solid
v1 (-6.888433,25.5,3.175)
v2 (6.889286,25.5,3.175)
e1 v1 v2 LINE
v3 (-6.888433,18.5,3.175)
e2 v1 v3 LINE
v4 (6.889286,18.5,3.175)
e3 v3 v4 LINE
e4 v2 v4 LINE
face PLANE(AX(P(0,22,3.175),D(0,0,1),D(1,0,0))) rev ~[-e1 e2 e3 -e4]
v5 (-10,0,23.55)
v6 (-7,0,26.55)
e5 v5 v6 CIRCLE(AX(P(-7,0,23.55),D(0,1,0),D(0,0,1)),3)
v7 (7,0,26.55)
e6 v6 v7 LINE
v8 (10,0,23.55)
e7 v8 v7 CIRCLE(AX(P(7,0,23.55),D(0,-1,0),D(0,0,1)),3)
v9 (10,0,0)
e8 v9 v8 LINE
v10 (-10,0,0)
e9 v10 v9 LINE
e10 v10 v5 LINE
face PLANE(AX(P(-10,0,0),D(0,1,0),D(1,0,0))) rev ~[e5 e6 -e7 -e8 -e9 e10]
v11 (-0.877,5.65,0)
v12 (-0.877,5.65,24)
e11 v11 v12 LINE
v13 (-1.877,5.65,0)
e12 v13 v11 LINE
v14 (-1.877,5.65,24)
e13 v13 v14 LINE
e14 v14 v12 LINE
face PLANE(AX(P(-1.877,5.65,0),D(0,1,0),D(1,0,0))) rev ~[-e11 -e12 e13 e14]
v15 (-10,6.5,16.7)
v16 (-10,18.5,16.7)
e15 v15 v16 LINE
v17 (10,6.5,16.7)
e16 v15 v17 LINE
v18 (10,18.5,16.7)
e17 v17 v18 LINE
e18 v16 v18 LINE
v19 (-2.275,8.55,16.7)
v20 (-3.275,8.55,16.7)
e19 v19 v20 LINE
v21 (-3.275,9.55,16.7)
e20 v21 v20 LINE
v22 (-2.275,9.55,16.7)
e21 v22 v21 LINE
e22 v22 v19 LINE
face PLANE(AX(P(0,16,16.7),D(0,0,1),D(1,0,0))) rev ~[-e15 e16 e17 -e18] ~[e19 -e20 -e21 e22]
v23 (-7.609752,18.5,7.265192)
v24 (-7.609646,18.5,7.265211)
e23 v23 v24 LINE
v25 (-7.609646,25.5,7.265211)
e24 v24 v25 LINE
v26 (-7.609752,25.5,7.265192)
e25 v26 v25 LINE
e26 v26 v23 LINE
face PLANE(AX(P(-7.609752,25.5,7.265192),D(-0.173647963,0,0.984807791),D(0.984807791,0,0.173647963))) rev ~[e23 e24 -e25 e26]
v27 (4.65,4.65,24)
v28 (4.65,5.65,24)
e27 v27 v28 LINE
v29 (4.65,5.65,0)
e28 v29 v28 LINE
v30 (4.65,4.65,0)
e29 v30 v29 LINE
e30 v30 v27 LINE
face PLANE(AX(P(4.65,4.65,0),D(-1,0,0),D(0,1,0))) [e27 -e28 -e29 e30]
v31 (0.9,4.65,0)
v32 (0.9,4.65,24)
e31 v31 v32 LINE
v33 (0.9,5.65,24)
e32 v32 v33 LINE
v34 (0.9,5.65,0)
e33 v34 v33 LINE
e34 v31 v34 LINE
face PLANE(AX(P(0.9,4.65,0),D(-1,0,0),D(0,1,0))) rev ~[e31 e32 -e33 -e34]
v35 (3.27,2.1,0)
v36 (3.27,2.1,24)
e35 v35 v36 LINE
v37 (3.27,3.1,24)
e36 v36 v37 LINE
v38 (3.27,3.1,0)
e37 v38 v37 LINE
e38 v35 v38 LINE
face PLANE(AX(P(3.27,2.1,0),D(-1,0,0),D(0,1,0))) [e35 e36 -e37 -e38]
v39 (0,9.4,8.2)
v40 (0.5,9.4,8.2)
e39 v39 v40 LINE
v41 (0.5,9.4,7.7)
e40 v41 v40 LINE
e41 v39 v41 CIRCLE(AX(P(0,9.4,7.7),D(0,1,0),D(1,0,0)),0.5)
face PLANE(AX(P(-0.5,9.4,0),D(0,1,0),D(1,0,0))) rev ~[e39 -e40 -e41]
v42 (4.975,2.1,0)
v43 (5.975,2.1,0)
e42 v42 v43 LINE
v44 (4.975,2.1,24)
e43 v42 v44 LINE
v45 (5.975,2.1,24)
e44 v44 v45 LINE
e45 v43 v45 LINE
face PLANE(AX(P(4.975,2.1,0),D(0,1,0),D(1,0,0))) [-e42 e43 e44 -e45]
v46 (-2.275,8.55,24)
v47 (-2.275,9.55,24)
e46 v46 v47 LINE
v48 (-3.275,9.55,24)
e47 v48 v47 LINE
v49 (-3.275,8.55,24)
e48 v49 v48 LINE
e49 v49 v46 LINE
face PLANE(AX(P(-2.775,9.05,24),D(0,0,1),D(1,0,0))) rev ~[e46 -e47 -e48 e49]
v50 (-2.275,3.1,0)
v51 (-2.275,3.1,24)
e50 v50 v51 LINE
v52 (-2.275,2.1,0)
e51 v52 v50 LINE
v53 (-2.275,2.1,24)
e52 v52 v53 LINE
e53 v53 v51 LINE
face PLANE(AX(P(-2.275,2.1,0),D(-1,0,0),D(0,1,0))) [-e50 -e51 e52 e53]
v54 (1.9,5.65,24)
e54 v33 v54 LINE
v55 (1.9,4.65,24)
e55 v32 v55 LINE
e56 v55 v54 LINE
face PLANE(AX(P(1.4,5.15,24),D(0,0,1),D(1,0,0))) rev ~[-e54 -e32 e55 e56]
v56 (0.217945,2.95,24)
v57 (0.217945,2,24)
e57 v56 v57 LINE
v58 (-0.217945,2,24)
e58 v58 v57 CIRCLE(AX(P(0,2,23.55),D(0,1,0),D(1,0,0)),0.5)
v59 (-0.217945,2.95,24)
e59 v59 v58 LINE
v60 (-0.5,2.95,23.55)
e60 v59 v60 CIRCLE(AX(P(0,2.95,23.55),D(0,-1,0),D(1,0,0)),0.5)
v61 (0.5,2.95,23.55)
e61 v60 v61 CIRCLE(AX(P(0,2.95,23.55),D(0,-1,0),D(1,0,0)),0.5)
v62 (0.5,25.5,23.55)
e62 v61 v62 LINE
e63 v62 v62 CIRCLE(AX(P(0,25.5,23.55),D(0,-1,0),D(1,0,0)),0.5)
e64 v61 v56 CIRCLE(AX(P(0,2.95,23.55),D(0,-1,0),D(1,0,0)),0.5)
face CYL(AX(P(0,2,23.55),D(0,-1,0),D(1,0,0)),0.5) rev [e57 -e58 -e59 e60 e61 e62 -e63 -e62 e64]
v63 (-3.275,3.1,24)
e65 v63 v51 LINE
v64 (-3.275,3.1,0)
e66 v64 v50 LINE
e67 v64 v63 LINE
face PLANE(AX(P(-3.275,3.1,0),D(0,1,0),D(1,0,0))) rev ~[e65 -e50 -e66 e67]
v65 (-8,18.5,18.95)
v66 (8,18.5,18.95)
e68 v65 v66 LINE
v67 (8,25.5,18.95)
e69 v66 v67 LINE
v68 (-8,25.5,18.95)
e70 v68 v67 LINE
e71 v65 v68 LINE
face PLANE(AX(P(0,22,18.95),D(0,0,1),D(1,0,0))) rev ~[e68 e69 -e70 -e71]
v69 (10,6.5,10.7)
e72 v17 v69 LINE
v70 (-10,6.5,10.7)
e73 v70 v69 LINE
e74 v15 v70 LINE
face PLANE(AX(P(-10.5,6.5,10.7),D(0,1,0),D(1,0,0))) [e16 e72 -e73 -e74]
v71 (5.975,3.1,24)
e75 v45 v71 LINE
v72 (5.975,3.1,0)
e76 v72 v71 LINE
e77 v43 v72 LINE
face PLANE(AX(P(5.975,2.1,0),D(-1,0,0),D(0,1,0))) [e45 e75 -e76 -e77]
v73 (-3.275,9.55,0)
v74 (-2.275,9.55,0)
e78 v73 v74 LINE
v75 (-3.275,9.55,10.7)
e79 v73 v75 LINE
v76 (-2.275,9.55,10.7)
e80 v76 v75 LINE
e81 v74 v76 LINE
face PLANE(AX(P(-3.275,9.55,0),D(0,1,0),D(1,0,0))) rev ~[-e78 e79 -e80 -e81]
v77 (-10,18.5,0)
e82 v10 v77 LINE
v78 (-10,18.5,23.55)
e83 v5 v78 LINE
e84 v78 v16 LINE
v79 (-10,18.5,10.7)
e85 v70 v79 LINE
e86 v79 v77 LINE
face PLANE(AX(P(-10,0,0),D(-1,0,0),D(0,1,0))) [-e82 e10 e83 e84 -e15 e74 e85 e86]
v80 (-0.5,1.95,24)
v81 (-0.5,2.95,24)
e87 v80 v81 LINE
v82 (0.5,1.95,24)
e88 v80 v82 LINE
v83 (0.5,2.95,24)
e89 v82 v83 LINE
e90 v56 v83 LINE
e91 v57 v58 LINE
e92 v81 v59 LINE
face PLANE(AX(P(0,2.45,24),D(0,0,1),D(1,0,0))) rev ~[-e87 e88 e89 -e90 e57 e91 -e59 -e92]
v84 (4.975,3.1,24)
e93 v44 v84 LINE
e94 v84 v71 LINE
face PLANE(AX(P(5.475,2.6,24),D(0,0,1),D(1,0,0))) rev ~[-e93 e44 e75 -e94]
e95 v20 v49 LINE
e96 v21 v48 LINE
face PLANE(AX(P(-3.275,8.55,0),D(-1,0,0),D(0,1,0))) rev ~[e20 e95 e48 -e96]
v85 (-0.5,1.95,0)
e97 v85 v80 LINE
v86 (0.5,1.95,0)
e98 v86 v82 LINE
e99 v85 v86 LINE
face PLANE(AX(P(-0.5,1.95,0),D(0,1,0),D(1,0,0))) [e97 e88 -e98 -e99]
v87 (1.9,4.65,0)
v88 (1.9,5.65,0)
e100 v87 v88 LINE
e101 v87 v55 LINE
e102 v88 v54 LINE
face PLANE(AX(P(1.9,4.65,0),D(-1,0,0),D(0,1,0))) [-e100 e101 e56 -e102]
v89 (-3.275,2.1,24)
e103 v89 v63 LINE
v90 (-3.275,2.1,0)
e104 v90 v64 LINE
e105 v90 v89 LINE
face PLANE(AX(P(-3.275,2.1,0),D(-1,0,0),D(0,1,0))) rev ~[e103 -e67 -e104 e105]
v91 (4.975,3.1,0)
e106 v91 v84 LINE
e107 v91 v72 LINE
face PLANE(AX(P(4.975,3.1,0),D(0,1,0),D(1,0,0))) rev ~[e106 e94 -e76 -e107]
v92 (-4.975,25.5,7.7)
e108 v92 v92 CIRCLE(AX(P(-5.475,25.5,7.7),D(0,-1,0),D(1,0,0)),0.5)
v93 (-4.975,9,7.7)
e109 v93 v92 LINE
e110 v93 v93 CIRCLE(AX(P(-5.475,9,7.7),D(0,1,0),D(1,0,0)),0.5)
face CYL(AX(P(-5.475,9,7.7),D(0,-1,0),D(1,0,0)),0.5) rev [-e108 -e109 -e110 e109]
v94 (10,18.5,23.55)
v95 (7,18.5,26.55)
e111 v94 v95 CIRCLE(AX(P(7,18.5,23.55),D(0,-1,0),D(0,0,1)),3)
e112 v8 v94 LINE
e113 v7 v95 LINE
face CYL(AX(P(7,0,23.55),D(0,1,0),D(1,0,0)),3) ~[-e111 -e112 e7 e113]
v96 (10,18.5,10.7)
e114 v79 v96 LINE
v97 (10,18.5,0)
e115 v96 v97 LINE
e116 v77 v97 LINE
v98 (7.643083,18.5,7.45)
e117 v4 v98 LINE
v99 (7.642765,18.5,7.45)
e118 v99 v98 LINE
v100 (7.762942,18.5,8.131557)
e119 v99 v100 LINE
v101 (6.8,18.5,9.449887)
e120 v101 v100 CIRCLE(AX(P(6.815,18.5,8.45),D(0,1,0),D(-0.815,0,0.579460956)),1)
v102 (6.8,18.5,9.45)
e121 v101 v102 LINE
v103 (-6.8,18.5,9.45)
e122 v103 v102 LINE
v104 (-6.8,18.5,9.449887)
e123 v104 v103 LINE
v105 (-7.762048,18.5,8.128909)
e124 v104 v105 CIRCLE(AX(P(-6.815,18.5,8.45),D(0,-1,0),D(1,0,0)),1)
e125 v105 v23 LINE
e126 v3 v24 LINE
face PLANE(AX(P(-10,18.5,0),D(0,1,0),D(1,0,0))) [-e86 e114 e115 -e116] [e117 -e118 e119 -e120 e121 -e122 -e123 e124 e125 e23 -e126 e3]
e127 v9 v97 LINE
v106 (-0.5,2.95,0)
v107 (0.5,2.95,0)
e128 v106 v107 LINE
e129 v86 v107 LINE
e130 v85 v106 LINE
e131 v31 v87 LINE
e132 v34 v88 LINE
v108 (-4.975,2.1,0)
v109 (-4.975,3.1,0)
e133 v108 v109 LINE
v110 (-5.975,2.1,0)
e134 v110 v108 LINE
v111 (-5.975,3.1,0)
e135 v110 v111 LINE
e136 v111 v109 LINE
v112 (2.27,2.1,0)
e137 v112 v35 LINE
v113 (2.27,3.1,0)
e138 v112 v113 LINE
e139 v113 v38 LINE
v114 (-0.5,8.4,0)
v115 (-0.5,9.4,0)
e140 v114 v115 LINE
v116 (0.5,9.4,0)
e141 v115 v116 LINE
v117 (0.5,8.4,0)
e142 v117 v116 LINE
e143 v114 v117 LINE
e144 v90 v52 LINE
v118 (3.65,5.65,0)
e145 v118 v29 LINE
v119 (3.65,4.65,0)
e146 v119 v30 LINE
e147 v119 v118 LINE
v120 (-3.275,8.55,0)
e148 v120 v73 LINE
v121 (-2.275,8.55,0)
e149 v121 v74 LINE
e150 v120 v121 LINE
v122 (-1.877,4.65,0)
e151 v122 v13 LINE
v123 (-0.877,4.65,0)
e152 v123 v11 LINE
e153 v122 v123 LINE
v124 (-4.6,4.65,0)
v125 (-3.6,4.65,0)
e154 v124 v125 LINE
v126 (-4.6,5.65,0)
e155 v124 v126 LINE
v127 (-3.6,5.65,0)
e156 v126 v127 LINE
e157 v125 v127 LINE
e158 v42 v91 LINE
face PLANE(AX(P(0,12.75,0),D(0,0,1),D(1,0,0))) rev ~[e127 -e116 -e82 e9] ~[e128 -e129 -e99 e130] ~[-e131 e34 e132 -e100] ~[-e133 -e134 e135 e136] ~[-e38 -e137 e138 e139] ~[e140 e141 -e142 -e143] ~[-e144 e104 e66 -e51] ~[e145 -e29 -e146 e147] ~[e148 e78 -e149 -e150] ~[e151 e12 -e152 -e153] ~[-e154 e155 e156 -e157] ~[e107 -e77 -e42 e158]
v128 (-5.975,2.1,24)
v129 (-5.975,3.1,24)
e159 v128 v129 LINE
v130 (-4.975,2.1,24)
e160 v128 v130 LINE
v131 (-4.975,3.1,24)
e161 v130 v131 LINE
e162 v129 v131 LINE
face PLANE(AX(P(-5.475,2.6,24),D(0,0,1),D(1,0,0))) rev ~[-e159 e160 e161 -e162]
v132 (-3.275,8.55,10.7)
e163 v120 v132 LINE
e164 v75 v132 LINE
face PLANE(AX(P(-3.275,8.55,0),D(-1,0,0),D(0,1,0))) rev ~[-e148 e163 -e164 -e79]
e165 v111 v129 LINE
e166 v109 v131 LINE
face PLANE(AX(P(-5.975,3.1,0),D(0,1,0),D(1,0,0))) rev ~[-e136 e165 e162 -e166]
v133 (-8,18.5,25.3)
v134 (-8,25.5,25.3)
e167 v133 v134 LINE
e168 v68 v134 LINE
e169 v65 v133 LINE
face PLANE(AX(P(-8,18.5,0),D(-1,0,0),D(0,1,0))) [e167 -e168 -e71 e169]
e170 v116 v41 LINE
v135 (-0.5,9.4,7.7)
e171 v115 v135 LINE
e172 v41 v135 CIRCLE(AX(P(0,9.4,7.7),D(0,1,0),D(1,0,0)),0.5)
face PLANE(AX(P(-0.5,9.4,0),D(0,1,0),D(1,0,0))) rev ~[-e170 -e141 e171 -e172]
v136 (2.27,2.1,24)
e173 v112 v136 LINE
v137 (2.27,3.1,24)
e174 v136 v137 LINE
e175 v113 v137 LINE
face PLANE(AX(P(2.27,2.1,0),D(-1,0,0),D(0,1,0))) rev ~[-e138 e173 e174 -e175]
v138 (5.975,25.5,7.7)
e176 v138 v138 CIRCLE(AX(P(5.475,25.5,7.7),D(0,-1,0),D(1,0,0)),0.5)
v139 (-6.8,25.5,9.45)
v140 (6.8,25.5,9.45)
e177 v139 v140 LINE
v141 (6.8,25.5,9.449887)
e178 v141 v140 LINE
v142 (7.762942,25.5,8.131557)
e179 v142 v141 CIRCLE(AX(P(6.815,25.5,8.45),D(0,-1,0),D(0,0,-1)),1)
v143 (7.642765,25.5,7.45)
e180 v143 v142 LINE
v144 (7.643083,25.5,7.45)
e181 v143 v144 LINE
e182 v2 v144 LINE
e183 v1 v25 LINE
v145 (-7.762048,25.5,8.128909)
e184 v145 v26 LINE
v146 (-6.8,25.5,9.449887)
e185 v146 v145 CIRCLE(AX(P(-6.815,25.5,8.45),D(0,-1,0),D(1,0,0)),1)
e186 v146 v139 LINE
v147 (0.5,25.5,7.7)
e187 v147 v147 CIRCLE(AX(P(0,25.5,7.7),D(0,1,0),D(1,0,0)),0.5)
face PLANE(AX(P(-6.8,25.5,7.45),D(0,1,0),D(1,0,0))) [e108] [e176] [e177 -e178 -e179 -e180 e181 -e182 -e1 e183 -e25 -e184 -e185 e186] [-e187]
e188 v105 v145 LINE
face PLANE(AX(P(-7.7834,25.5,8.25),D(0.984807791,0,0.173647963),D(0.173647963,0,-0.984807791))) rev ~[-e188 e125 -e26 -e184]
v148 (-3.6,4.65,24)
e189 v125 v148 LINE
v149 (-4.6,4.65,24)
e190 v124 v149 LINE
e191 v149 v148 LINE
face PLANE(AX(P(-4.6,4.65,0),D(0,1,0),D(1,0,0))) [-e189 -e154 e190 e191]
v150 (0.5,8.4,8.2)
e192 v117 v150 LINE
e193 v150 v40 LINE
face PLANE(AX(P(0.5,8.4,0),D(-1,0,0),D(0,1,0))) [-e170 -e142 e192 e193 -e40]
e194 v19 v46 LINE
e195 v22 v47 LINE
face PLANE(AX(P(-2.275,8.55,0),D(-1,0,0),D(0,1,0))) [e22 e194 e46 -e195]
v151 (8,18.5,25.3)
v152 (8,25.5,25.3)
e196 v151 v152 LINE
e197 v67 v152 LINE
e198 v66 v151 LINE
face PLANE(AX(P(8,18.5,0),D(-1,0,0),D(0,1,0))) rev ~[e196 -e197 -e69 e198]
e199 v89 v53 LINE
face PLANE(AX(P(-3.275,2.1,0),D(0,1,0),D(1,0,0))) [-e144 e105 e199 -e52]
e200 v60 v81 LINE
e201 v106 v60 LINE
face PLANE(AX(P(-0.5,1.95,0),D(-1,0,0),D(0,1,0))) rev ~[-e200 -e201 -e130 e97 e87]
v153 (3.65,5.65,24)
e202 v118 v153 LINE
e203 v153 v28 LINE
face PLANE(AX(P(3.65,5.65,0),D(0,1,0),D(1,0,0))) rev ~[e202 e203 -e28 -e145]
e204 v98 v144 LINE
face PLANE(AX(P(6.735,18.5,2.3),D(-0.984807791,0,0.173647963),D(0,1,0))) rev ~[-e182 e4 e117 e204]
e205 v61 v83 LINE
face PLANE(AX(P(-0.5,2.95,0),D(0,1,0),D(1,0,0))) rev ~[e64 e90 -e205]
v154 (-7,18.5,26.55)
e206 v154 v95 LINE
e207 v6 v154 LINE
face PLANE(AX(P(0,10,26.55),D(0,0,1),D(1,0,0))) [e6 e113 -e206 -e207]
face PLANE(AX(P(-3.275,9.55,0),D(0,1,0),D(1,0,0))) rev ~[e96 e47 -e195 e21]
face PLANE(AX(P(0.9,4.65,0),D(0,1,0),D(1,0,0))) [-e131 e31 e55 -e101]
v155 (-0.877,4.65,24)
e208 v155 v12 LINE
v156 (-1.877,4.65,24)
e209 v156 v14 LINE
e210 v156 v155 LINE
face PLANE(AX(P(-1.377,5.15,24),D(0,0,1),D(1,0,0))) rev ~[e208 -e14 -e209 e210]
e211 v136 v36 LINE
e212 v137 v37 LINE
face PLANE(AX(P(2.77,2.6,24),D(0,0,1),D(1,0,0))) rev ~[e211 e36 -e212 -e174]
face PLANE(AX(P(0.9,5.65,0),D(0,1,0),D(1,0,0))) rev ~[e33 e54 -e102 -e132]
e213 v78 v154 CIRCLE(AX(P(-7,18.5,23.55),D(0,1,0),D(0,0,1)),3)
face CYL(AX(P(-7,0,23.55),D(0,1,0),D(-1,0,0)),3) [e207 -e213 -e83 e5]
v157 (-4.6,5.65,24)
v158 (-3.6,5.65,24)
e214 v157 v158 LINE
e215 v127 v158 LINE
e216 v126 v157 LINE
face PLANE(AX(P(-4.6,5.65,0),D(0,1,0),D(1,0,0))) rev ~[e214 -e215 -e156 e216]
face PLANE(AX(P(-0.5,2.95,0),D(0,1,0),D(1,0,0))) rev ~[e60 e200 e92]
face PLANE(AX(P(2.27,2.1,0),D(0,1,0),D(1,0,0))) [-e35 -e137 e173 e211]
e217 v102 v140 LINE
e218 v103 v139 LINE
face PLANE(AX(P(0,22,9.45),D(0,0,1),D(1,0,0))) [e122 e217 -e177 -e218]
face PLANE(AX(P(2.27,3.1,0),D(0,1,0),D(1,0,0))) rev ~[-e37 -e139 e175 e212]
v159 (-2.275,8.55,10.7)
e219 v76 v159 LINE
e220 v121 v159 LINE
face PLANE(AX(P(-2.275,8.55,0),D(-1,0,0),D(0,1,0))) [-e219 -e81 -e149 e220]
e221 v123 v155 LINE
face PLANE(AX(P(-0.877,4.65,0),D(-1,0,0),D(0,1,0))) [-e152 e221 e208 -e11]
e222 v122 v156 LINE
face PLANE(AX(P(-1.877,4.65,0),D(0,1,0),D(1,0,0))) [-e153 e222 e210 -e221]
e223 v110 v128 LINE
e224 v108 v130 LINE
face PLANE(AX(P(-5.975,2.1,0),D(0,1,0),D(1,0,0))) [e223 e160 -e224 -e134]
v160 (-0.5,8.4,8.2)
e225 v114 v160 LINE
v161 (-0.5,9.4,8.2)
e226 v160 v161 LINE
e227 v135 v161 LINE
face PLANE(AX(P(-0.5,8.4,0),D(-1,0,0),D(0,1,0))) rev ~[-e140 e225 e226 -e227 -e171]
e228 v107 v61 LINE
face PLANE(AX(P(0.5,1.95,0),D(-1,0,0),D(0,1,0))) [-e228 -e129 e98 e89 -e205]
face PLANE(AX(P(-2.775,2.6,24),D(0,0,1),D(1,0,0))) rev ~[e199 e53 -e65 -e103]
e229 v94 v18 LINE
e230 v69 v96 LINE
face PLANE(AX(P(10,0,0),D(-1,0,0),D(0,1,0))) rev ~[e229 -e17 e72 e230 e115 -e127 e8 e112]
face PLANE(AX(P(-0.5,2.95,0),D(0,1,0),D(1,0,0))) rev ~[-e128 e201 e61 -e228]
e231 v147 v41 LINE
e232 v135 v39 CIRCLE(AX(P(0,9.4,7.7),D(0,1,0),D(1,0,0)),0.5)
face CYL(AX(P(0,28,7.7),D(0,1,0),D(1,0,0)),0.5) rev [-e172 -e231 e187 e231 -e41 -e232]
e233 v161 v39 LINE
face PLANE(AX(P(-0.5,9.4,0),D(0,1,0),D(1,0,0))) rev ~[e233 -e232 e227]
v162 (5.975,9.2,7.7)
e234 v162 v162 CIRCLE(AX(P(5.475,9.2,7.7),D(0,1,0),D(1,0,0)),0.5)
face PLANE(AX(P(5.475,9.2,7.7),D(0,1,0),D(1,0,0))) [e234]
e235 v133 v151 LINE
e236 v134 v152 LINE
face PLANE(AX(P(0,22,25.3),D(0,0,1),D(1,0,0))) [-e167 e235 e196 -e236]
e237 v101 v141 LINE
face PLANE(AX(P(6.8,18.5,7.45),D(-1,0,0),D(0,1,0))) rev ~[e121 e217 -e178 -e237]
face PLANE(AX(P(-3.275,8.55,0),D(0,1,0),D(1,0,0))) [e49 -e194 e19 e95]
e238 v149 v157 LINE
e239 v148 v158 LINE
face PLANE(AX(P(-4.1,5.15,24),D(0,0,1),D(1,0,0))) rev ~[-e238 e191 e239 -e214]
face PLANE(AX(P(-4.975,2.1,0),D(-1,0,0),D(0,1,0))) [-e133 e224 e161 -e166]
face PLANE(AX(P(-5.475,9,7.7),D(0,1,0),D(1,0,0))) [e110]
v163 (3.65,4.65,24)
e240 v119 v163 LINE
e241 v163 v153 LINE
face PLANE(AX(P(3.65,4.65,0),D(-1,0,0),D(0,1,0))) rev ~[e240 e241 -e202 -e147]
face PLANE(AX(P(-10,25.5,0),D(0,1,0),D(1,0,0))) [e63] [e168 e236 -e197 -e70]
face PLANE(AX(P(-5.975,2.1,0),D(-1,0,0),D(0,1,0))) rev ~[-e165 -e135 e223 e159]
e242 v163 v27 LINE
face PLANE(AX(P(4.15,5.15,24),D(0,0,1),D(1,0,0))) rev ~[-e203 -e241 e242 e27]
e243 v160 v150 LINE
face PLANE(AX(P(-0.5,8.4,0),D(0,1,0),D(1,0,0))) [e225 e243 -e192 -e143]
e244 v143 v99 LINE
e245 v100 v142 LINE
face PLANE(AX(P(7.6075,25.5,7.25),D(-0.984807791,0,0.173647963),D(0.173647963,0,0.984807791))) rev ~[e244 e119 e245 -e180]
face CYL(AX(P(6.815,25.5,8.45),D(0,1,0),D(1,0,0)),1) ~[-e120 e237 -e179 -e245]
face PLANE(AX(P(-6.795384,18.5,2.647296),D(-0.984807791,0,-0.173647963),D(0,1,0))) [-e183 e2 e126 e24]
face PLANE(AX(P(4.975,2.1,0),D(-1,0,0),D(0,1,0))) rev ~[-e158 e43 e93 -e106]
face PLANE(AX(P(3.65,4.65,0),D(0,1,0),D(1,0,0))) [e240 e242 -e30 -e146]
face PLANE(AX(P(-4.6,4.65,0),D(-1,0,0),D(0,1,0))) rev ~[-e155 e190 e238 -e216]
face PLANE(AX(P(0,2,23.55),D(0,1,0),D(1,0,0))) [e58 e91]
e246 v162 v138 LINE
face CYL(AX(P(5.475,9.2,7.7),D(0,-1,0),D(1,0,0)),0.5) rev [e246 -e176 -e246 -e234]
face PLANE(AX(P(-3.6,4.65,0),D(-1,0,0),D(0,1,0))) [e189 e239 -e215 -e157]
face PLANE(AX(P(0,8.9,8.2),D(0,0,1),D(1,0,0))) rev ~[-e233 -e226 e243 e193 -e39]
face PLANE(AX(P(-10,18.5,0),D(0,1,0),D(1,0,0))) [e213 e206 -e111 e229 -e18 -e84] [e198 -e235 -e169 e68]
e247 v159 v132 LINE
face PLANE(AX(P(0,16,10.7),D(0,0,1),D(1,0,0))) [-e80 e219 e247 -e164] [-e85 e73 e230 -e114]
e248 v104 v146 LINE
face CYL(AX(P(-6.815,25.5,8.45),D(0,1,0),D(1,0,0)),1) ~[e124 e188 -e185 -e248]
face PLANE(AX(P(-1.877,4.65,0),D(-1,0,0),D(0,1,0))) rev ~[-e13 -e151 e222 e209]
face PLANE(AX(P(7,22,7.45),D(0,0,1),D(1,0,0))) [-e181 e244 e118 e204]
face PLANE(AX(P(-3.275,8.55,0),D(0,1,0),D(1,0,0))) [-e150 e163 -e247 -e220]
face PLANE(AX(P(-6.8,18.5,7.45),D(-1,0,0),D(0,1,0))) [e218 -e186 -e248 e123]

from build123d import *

# Parameters (mm, degrees)
BOX_W             = 20
BOX_H             = 25.5
BOX_DEPTH         = 28.42
BOX001_W          = 2
BOX001_H          = 7
BOX001_DEPTH      = 31.5
BOX002_W          = 2
BOX002_H          = 7.5
BOX002_DEPTH      = 31
BOX003_W          = 21
BOX003_H          = 19
BOX003_DEPTH      = 6
BOX008_W          = 18
BOX008_H          = 7
BOX008_DEPTH      = 9.5
BOX009_W          = 22
BOX009_H          = 7
BOX009_DEPTH      = 3.175
BOX010_W          = 23
BOX010_H          = 7
BOX010_DEPTH      = 3.2
BOX011_W          = 1
BOX011_H          = 1
BOX011_DEPTH      = 24
BOX012_W          = 1
BOX012_H          = 1
BOX012_DEPTH      = 24
BOX019_W          = 21
BOX019_H          = 20
BOX019_DEPTH      = 3
BOX020_W          = 1
BOX020_H          = 1
BOX020_DEPTH      = 8.2
BOX021_W          = 1
BOX021_H          = 1
BOX021_DEPTH      = 24
BOX022_W          = 1
BOX022_H          = 1
BOX022_DEPTH      = 24
CYLINDER_R        = 0.5
CYLINDER_DEPTH    = 19
CYLINDER001_R     = 0.5
CYLINDER001_DEPTH = 24
CYLINDER002_R     = 0.5
CYLINDER002_DEPTH = 17
CYLINDER003_R     = 0.5
CYLINDER003_DEPTH = 17
BOX023_W          = 1
BOX023_H          = 1
BOX023_DEPTH      = 24
BOX024_W          = 1
BOX024_H          = 1
BOX024_DEPTH      = 24
BOX025_W          = 1
BOX025_H          = 1
BOX025_DEPTH      = 24
BOX026_W          = 1
BOX026_H          = 1
BOX026_DEPTH      = 24
BOX027_W          = 1
BOX027_H          = 1
BOX027_DEPTH      = 24
BOX028_W          = 1
BOX028_H          = 1
BOX028_DEPTH      = 24
BOX029_W          = 2
BOX029_H          = 8
BOX029_DEPTH      = 8
BOX030_W          = 2
BOX030_H          = 8
BOX030_DEPTH      = 8
BOX033_W          = 2
BOX033_H          = 7
BOX033_DEPTH      = 2
BOX034_W          = 2
BOX034_H          = 7
BOX034_DEPTH      = 2
CYLINDER006_R     = 1
CYLINDER006_DEPTH = 7
BOX035_W          = 0.8
BOX035_H          = 7
BOX035_DEPTH      = 2
BOX036_W          = 1
BOX036_H          = 1
BOX036_DEPTH      = 7
CYLINDER007_R     = 1
CYLINDER007_DEPTH = 7
BOX037_W          = 0.8
BOX037_H          = 7
BOX037_DEPTH      = 2
BOX038_W          = 1
BOX038_H          = 1
BOX038_DEPTH      = 7
FILLET008_R       = 3


with BuildPart() as part:
    # Box → Box (join)
    with BuildSketch(Plane(origin=(-10, 0, 0), x_dir=(1, 0, 0), z_dir=(0, 0, 1))):
        with Locations((10, 12.75)):
            Rectangle(BOX_W, BOX_H)
    extrude(amount=BOX_DEPTH)

    # Box001 → Box001 (cut)
    with BuildSketch(Plane(origin=(-10, 18.5, 0), x_dir=(1, 0, 0), z_dir=(0, 0, 1))):
        with Locations((1, 3.5)):
            Rectangle(BOX001_W, BOX001_H)
    extrude(amount=BOX001_DEPTH, mode=Mode.SUBTRACT)

    # Box002 → Box002 (cut)
    with BuildSketch(Plane(origin=(8, 18.5, 0), x_dir=(1, 0, 0), z_dir=(0, 0, 1))):
        with Locations((1, 3.75)):
            Rectangle(BOX002_W, BOX002_H)
    extrude(amount=BOX002_DEPTH, mode=Mode.SUBTRACT)

    # Box003 → Box003 (cut)
    with BuildSketch(Plane(origin=(-10.5, 6.5, 10.7), x_dir=(1, 0, 0), z_dir=(0, 0, 1))):
        with Locations((10.5, 9.5)):
            Rectangle(BOX003_W, BOX003_H)
    extrude(amount=BOX003_DEPTH, mode=Mode.SUBTRACT)

    # Box008 → Box008 (cut)
    with BuildSketch(Plane(origin=(-9, 18.5, 9.45), x_dir=(1, 0, 0), z_dir=(0, 0, 1))):
        with Locations((9, 3.5)):
            Rectangle(BOX008_W, BOX008_H)
    extrude(amount=BOX008_DEPTH, mode=Mode.SUBTRACT)

    # Box009 → Box009 (cut)
    with BuildSketch(Plane(origin=(-11, 18.5, 0), x_dir=(1, 0, 0), z_dir=(0, 0, 1))):
        with Locations((11, 3.5)):
            Rectangle(BOX009_W, BOX009_H)
    extrude(amount=BOX009_DEPTH, mode=Mode.SUBTRACT)

    # Box010 → Box010 (cut)
    with BuildSketch(Plane(origin=(-11.5, 18.5, 25.3), x_dir=(1, 0, 0), z_dir=(0, 0, 1))):
        with Locations((11.5, 3.5)):
            Rectangle(BOX010_W, BOX010_H)
    extrude(amount=BOX010_DEPTH, mode=Mode.SUBTRACT)

    # Box011 → Box011 (cut)
    with BuildSketch(Plane(origin=(-0.5, 1.95, 0), x_dir=(1, 0, 0), z_dir=(0, 0, 1))):
        with Locations((0.5, 0.5)):
            Rectangle(BOX011_W, BOX011_H)
    extrude(amount=BOX011_DEPTH, mode=Mode.SUBTRACT)

    # Box012 → Box012 (cut)
    with BuildSketch(Plane(origin=(2.27, 2.1, 0), x_dir=(1, 0, 0), z_dir=(0, 0, 1))):
        with Locations((0.5, 0.5)):
            Rectangle(BOX012_W, BOX012_H)
    extrude(amount=BOX012_DEPTH, mode=Mode.SUBTRACT)

    # Box019 → Box019 (cut)
    with BuildSketch(Plane(origin=(-10.5, 0, 26.55), x_dir=(1, 0, 0), z_dir=(0, 0, 1))):
        with Locations((10.5, 10)):
            Rectangle(BOX019_W, BOX019_H)
    extrude(amount=BOX019_DEPTH, mode=Mode.SUBTRACT)

    # Box020 → Box020 (cut)
    with BuildSketch(Plane(origin=(-0.5, 8.4, 0), x_dir=(1, 0, 0), z_dir=(0, 0, 1))):
        with Locations((0.5, 0.5)):
            Rectangle(BOX020_W, BOX020_H)
    extrude(amount=BOX020_DEPTH, mode=Mode.SUBTRACT)

    # Box021 → Box021 (cut)
    with BuildSketch(Plane(origin=(4.975, 2.1, 0), x_dir=(1, 0, 0), z_dir=(0, 0, 1))):
        with Locations((0.5, 0.5)):
            Rectangle(BOX021_W, BOX021_H)
    extrude(amount=BOX021_DEPTH, mode=Mode.SUBTRACT)

    # Box022 → Box022 (cut)
    with BuildSketch(Plane(origin=(-5.975, 2.1, 0), x_dir=(1, 0, 0), z_dir=(0, 0, 1))):
        with Locations((0.5, 0.5)):
            Rectangle(BOX022_W, BOX022_H)
    extrude(amount=BOX022_DEPTH, mode=Mode.SUBTRACT)

    # Cylinder → Cylinder (cut)
    with BuildSketch(Plane(origin=(0, 28, 7.7), x_dir=(1, 0, 0), z_dir=(0, -1, 0))):
        Circle(CYLINDER_R)
    extrude(amount=CYLINDER_DEPTH, mode=Mode.SUBTRACT)

    # Cylinder001 → Cylinder001 (cut)
    with BuildSketch(Plane(origin=(0, 2, 23.55), x_dir=(1, 0, 0), z_dir=(0, 1, 0))):
        Circle(CYLINDER001_R)
    extrude(amount=CYLINDER001_DEPTH, mode=Mode.SUBTRACT)

    # Cylinder002 → Cylinder002 (cut)
    with BuildSketch(Plane(origin=(5.475, 9.2, 7.7), x_dir=(1, 0, 0), z_dir=(0, 1, 0))):
        Circle(CYLINDER002_R)
    extrude(amount=CYLINDER002_DEPTH, mode=Mode.SUBTRACT)

    # Cylinder003 → Cylinder003 (cut)
    with BuildSketch(Plane(origin=(-5.475, 9, 7.7), x_dir=(1, 0, 0), z_dir=(0, 1, 0))):
        Circle(CYLINDER003_R)
    extrude(amount=CYLINDER003_DEPTH, mode=Mode.SUBTRACT)

    # Box023 → Box023 (cut)
    with BuildSketch(Plane(origin=(-3.275, 2.1, 0), x_dir=(1, 0, 0), z_dir=(0, 0, 1))):
        with Locations((0.5, 0.5)):
            Rectangle(BOX023_W, BOX023_H)
    extrude(amount=BOX023_DEPTH, mode=Mode.SUBTRACT)

    # Box024 → Box024 (cut)
    with BuildSketch(Plane(origin=(-3.275, 8.55, 0), x_dir=(1, 0, 0), z_dir=(0, 0, 1))):
        with Locations((0.5, 0.5)):
            Rectangle(BOX024_W, BOX024_H)
    extrude(amount=BOX024_DEPTH, mode=Mode.SUBTRACT)

    # Box025 → Box025 (cut)
    with BuildSketch(Plane(origin=(0.9, 4.65, 0), x_dir=(1, 0, 0), z_dir=(0, 0, 1))):
        with Locations((0.5, 0.5)):
            Rectangle(BOX025_W, BOX025_H)
    extrude(amount=BOX025_DEPTH, mode=Mode.SUBTRACT)

    # Box026 → Box026 (cut)
    with BuildSketch(Plane(origin=(-1.877, 4.65, 0), x_dir=(1, 0, 0), z_dir=(0, 0, 1))):
        with Locations((0.5, 0.5)):
            Rectangle(BOX026_W, BOX026_H)
    extrude(amount=BOX026_DEPTH, mode=Mode.SUBTRACT)

    # Box027 → Box027 (cut)
    with BuildSketch(Plane(origin=(3.65, 4.65, 0), x_dir=(1, 0, 0), z_dir=(0, 0, 1))):
        with Locations((0.5, 0.5)):
            Rectangle(BOX027_W, BOX027_H)
    extrude(amount=BOX027_DEPTH, mode=Mode.SUBTRACT)

    # Box028 → Box028 (cut)
    with BuildSketch(Plane(origin=(-4.6, 4.65, 0), x_dir=(1, 0, 0), z_dir=(0, 0, 1))):
        with Locations((0.5, 0.5)):
            Rectangle(BOX028_W, BOX028_H)
    extrude(amount=BOX028_DEPTH, mode=Mode.SUBTRACT)

    # Box029 → Box029 (cut)
    with BuildSketch(Plane(origin=(6.735, 18.5, 2.3), x_dir=(0.984808, 0, -0.173648), z_dir=(0.173648, 0, 0.984808))):
        with Locations((1, 4)):
            Rectangle(BOX029_W, BOX029_H)
    extrude(amount=BOX029_DEPTH, mode=Mode.SUBTRACT)

    # Box030 → Box030 (cut)
    with BuildSketch(Plane(origin=(-8.765, 18.5, 2.3), x_dir=(0.984808, 0, 0.173648), z_dir=(-0.173648, 0, 0.984808))):
        with Locations((1, 4)):
            Rectangle(BOX030_W, BOX030_H)
    extrude(amount=BOX030_DEPTH, mode=Mode.SUBTRACT)

    # Box033 → Box033 (cut)
    with BuildSketch(Plane(origin=(-8, 18.5, 7.45), x_dir=(1, 0, 0), z_dir=(0, 0, 1))):
        with Locations((1, 3.5)):
            Rectangle(BOX033_W, BOX033_H)
    extrude(amount=BOX033_DEPTH, mode=Mode.SUBTRACT)

    # Box034 → Box034 (cut)
    with BuildSketch(Plane(origin=(6, 18.5, 7.45), x_dir=(1, 0, 0), z_dir=(0, 0, 1))):
        with Locations((1, 3.5)):
            Rectangle(BOX034_W, BOX034_H)
    extrude(amount=BOX034_DEPTH, mode=Mode.SUBTRACT)

    # Cylinder006 → Cylinder006 (join)
    with BuildSketch(Plane(origin=(6.815, 25.5, 8.45), x_dir=(1, 0, 0), z_dir=(0, -1, 0))):
        Circle(CYLINDER006_R)
    extrude(amount=CYLINDER006_DEPTH)

    # Box035 → Box035 (join)
    with BuildSketch(Plane(origin=(6, 18.5, 7.45), x_dir=(1, 0, 0), z_dir=(0, 0, 1))):
        with Locations((0.4, 3.5)):
            Rectangle(BOX035_W, BOX035_H)
    extrude(amount=BOX035_DEPTH)

    # Box036 → Box036 (join)
    with BuildSketch(Plane(origin=(7.6075, 25.5, 7.25), x_dir=(0.173648, 0, 0.984808), z_dir=(0, -1, 0))):
        with Locations((0.5, 0.5)):
            Rectangle(BOX036_W, BOX036_H)
    extrude(amount=BOX036_DEPTH)

    # Cylinder007 → Cylinder007 (join)
    with BuildSketch(Plane(origin=(-6.815, 25.5, 8.45), x_dir=(1, 0, 0), z_dir=(0, -1, 0))):
        Circle(CYLINDER007_R)
    extrude(amount=CYLINDER007_DEPTH)

    # Box037 → Box037 (join)
    with BuildSketch(Plane(origin=(-6.8, 18.5, 7.45), x_dir=(1, 0, 0), z_dir=(0, 0, 1))):
        with Locations((0.4, 3.5)):
            Rectangle(BOX037_W, BOX037_H)
    extrude(amount=BOX037_DEPTH)

    # Box038 → Box038 (join)
    with BuildSketch(Plane(origin=(-7.7834, 25.5, 8.25), x_dir=(0.173648, 0, -0.984808), z_dir=(0, -1, 0))):
        with Locations((0.5, 0.5)):
            Rectangle(BOX038_W, BOX038_H)
    extrude(amount=BOX038_DEPTH)

    # Fillet008
    fillet008_edges = [part.edges().sort_by_distance(p)[0] for p in [
        (10, 9.25, 26.55),
        (-10, 9.25, 26.55),
    ]]
    fillet(fillet008_edges, radius=FILLET008_R)


solid = part.part
